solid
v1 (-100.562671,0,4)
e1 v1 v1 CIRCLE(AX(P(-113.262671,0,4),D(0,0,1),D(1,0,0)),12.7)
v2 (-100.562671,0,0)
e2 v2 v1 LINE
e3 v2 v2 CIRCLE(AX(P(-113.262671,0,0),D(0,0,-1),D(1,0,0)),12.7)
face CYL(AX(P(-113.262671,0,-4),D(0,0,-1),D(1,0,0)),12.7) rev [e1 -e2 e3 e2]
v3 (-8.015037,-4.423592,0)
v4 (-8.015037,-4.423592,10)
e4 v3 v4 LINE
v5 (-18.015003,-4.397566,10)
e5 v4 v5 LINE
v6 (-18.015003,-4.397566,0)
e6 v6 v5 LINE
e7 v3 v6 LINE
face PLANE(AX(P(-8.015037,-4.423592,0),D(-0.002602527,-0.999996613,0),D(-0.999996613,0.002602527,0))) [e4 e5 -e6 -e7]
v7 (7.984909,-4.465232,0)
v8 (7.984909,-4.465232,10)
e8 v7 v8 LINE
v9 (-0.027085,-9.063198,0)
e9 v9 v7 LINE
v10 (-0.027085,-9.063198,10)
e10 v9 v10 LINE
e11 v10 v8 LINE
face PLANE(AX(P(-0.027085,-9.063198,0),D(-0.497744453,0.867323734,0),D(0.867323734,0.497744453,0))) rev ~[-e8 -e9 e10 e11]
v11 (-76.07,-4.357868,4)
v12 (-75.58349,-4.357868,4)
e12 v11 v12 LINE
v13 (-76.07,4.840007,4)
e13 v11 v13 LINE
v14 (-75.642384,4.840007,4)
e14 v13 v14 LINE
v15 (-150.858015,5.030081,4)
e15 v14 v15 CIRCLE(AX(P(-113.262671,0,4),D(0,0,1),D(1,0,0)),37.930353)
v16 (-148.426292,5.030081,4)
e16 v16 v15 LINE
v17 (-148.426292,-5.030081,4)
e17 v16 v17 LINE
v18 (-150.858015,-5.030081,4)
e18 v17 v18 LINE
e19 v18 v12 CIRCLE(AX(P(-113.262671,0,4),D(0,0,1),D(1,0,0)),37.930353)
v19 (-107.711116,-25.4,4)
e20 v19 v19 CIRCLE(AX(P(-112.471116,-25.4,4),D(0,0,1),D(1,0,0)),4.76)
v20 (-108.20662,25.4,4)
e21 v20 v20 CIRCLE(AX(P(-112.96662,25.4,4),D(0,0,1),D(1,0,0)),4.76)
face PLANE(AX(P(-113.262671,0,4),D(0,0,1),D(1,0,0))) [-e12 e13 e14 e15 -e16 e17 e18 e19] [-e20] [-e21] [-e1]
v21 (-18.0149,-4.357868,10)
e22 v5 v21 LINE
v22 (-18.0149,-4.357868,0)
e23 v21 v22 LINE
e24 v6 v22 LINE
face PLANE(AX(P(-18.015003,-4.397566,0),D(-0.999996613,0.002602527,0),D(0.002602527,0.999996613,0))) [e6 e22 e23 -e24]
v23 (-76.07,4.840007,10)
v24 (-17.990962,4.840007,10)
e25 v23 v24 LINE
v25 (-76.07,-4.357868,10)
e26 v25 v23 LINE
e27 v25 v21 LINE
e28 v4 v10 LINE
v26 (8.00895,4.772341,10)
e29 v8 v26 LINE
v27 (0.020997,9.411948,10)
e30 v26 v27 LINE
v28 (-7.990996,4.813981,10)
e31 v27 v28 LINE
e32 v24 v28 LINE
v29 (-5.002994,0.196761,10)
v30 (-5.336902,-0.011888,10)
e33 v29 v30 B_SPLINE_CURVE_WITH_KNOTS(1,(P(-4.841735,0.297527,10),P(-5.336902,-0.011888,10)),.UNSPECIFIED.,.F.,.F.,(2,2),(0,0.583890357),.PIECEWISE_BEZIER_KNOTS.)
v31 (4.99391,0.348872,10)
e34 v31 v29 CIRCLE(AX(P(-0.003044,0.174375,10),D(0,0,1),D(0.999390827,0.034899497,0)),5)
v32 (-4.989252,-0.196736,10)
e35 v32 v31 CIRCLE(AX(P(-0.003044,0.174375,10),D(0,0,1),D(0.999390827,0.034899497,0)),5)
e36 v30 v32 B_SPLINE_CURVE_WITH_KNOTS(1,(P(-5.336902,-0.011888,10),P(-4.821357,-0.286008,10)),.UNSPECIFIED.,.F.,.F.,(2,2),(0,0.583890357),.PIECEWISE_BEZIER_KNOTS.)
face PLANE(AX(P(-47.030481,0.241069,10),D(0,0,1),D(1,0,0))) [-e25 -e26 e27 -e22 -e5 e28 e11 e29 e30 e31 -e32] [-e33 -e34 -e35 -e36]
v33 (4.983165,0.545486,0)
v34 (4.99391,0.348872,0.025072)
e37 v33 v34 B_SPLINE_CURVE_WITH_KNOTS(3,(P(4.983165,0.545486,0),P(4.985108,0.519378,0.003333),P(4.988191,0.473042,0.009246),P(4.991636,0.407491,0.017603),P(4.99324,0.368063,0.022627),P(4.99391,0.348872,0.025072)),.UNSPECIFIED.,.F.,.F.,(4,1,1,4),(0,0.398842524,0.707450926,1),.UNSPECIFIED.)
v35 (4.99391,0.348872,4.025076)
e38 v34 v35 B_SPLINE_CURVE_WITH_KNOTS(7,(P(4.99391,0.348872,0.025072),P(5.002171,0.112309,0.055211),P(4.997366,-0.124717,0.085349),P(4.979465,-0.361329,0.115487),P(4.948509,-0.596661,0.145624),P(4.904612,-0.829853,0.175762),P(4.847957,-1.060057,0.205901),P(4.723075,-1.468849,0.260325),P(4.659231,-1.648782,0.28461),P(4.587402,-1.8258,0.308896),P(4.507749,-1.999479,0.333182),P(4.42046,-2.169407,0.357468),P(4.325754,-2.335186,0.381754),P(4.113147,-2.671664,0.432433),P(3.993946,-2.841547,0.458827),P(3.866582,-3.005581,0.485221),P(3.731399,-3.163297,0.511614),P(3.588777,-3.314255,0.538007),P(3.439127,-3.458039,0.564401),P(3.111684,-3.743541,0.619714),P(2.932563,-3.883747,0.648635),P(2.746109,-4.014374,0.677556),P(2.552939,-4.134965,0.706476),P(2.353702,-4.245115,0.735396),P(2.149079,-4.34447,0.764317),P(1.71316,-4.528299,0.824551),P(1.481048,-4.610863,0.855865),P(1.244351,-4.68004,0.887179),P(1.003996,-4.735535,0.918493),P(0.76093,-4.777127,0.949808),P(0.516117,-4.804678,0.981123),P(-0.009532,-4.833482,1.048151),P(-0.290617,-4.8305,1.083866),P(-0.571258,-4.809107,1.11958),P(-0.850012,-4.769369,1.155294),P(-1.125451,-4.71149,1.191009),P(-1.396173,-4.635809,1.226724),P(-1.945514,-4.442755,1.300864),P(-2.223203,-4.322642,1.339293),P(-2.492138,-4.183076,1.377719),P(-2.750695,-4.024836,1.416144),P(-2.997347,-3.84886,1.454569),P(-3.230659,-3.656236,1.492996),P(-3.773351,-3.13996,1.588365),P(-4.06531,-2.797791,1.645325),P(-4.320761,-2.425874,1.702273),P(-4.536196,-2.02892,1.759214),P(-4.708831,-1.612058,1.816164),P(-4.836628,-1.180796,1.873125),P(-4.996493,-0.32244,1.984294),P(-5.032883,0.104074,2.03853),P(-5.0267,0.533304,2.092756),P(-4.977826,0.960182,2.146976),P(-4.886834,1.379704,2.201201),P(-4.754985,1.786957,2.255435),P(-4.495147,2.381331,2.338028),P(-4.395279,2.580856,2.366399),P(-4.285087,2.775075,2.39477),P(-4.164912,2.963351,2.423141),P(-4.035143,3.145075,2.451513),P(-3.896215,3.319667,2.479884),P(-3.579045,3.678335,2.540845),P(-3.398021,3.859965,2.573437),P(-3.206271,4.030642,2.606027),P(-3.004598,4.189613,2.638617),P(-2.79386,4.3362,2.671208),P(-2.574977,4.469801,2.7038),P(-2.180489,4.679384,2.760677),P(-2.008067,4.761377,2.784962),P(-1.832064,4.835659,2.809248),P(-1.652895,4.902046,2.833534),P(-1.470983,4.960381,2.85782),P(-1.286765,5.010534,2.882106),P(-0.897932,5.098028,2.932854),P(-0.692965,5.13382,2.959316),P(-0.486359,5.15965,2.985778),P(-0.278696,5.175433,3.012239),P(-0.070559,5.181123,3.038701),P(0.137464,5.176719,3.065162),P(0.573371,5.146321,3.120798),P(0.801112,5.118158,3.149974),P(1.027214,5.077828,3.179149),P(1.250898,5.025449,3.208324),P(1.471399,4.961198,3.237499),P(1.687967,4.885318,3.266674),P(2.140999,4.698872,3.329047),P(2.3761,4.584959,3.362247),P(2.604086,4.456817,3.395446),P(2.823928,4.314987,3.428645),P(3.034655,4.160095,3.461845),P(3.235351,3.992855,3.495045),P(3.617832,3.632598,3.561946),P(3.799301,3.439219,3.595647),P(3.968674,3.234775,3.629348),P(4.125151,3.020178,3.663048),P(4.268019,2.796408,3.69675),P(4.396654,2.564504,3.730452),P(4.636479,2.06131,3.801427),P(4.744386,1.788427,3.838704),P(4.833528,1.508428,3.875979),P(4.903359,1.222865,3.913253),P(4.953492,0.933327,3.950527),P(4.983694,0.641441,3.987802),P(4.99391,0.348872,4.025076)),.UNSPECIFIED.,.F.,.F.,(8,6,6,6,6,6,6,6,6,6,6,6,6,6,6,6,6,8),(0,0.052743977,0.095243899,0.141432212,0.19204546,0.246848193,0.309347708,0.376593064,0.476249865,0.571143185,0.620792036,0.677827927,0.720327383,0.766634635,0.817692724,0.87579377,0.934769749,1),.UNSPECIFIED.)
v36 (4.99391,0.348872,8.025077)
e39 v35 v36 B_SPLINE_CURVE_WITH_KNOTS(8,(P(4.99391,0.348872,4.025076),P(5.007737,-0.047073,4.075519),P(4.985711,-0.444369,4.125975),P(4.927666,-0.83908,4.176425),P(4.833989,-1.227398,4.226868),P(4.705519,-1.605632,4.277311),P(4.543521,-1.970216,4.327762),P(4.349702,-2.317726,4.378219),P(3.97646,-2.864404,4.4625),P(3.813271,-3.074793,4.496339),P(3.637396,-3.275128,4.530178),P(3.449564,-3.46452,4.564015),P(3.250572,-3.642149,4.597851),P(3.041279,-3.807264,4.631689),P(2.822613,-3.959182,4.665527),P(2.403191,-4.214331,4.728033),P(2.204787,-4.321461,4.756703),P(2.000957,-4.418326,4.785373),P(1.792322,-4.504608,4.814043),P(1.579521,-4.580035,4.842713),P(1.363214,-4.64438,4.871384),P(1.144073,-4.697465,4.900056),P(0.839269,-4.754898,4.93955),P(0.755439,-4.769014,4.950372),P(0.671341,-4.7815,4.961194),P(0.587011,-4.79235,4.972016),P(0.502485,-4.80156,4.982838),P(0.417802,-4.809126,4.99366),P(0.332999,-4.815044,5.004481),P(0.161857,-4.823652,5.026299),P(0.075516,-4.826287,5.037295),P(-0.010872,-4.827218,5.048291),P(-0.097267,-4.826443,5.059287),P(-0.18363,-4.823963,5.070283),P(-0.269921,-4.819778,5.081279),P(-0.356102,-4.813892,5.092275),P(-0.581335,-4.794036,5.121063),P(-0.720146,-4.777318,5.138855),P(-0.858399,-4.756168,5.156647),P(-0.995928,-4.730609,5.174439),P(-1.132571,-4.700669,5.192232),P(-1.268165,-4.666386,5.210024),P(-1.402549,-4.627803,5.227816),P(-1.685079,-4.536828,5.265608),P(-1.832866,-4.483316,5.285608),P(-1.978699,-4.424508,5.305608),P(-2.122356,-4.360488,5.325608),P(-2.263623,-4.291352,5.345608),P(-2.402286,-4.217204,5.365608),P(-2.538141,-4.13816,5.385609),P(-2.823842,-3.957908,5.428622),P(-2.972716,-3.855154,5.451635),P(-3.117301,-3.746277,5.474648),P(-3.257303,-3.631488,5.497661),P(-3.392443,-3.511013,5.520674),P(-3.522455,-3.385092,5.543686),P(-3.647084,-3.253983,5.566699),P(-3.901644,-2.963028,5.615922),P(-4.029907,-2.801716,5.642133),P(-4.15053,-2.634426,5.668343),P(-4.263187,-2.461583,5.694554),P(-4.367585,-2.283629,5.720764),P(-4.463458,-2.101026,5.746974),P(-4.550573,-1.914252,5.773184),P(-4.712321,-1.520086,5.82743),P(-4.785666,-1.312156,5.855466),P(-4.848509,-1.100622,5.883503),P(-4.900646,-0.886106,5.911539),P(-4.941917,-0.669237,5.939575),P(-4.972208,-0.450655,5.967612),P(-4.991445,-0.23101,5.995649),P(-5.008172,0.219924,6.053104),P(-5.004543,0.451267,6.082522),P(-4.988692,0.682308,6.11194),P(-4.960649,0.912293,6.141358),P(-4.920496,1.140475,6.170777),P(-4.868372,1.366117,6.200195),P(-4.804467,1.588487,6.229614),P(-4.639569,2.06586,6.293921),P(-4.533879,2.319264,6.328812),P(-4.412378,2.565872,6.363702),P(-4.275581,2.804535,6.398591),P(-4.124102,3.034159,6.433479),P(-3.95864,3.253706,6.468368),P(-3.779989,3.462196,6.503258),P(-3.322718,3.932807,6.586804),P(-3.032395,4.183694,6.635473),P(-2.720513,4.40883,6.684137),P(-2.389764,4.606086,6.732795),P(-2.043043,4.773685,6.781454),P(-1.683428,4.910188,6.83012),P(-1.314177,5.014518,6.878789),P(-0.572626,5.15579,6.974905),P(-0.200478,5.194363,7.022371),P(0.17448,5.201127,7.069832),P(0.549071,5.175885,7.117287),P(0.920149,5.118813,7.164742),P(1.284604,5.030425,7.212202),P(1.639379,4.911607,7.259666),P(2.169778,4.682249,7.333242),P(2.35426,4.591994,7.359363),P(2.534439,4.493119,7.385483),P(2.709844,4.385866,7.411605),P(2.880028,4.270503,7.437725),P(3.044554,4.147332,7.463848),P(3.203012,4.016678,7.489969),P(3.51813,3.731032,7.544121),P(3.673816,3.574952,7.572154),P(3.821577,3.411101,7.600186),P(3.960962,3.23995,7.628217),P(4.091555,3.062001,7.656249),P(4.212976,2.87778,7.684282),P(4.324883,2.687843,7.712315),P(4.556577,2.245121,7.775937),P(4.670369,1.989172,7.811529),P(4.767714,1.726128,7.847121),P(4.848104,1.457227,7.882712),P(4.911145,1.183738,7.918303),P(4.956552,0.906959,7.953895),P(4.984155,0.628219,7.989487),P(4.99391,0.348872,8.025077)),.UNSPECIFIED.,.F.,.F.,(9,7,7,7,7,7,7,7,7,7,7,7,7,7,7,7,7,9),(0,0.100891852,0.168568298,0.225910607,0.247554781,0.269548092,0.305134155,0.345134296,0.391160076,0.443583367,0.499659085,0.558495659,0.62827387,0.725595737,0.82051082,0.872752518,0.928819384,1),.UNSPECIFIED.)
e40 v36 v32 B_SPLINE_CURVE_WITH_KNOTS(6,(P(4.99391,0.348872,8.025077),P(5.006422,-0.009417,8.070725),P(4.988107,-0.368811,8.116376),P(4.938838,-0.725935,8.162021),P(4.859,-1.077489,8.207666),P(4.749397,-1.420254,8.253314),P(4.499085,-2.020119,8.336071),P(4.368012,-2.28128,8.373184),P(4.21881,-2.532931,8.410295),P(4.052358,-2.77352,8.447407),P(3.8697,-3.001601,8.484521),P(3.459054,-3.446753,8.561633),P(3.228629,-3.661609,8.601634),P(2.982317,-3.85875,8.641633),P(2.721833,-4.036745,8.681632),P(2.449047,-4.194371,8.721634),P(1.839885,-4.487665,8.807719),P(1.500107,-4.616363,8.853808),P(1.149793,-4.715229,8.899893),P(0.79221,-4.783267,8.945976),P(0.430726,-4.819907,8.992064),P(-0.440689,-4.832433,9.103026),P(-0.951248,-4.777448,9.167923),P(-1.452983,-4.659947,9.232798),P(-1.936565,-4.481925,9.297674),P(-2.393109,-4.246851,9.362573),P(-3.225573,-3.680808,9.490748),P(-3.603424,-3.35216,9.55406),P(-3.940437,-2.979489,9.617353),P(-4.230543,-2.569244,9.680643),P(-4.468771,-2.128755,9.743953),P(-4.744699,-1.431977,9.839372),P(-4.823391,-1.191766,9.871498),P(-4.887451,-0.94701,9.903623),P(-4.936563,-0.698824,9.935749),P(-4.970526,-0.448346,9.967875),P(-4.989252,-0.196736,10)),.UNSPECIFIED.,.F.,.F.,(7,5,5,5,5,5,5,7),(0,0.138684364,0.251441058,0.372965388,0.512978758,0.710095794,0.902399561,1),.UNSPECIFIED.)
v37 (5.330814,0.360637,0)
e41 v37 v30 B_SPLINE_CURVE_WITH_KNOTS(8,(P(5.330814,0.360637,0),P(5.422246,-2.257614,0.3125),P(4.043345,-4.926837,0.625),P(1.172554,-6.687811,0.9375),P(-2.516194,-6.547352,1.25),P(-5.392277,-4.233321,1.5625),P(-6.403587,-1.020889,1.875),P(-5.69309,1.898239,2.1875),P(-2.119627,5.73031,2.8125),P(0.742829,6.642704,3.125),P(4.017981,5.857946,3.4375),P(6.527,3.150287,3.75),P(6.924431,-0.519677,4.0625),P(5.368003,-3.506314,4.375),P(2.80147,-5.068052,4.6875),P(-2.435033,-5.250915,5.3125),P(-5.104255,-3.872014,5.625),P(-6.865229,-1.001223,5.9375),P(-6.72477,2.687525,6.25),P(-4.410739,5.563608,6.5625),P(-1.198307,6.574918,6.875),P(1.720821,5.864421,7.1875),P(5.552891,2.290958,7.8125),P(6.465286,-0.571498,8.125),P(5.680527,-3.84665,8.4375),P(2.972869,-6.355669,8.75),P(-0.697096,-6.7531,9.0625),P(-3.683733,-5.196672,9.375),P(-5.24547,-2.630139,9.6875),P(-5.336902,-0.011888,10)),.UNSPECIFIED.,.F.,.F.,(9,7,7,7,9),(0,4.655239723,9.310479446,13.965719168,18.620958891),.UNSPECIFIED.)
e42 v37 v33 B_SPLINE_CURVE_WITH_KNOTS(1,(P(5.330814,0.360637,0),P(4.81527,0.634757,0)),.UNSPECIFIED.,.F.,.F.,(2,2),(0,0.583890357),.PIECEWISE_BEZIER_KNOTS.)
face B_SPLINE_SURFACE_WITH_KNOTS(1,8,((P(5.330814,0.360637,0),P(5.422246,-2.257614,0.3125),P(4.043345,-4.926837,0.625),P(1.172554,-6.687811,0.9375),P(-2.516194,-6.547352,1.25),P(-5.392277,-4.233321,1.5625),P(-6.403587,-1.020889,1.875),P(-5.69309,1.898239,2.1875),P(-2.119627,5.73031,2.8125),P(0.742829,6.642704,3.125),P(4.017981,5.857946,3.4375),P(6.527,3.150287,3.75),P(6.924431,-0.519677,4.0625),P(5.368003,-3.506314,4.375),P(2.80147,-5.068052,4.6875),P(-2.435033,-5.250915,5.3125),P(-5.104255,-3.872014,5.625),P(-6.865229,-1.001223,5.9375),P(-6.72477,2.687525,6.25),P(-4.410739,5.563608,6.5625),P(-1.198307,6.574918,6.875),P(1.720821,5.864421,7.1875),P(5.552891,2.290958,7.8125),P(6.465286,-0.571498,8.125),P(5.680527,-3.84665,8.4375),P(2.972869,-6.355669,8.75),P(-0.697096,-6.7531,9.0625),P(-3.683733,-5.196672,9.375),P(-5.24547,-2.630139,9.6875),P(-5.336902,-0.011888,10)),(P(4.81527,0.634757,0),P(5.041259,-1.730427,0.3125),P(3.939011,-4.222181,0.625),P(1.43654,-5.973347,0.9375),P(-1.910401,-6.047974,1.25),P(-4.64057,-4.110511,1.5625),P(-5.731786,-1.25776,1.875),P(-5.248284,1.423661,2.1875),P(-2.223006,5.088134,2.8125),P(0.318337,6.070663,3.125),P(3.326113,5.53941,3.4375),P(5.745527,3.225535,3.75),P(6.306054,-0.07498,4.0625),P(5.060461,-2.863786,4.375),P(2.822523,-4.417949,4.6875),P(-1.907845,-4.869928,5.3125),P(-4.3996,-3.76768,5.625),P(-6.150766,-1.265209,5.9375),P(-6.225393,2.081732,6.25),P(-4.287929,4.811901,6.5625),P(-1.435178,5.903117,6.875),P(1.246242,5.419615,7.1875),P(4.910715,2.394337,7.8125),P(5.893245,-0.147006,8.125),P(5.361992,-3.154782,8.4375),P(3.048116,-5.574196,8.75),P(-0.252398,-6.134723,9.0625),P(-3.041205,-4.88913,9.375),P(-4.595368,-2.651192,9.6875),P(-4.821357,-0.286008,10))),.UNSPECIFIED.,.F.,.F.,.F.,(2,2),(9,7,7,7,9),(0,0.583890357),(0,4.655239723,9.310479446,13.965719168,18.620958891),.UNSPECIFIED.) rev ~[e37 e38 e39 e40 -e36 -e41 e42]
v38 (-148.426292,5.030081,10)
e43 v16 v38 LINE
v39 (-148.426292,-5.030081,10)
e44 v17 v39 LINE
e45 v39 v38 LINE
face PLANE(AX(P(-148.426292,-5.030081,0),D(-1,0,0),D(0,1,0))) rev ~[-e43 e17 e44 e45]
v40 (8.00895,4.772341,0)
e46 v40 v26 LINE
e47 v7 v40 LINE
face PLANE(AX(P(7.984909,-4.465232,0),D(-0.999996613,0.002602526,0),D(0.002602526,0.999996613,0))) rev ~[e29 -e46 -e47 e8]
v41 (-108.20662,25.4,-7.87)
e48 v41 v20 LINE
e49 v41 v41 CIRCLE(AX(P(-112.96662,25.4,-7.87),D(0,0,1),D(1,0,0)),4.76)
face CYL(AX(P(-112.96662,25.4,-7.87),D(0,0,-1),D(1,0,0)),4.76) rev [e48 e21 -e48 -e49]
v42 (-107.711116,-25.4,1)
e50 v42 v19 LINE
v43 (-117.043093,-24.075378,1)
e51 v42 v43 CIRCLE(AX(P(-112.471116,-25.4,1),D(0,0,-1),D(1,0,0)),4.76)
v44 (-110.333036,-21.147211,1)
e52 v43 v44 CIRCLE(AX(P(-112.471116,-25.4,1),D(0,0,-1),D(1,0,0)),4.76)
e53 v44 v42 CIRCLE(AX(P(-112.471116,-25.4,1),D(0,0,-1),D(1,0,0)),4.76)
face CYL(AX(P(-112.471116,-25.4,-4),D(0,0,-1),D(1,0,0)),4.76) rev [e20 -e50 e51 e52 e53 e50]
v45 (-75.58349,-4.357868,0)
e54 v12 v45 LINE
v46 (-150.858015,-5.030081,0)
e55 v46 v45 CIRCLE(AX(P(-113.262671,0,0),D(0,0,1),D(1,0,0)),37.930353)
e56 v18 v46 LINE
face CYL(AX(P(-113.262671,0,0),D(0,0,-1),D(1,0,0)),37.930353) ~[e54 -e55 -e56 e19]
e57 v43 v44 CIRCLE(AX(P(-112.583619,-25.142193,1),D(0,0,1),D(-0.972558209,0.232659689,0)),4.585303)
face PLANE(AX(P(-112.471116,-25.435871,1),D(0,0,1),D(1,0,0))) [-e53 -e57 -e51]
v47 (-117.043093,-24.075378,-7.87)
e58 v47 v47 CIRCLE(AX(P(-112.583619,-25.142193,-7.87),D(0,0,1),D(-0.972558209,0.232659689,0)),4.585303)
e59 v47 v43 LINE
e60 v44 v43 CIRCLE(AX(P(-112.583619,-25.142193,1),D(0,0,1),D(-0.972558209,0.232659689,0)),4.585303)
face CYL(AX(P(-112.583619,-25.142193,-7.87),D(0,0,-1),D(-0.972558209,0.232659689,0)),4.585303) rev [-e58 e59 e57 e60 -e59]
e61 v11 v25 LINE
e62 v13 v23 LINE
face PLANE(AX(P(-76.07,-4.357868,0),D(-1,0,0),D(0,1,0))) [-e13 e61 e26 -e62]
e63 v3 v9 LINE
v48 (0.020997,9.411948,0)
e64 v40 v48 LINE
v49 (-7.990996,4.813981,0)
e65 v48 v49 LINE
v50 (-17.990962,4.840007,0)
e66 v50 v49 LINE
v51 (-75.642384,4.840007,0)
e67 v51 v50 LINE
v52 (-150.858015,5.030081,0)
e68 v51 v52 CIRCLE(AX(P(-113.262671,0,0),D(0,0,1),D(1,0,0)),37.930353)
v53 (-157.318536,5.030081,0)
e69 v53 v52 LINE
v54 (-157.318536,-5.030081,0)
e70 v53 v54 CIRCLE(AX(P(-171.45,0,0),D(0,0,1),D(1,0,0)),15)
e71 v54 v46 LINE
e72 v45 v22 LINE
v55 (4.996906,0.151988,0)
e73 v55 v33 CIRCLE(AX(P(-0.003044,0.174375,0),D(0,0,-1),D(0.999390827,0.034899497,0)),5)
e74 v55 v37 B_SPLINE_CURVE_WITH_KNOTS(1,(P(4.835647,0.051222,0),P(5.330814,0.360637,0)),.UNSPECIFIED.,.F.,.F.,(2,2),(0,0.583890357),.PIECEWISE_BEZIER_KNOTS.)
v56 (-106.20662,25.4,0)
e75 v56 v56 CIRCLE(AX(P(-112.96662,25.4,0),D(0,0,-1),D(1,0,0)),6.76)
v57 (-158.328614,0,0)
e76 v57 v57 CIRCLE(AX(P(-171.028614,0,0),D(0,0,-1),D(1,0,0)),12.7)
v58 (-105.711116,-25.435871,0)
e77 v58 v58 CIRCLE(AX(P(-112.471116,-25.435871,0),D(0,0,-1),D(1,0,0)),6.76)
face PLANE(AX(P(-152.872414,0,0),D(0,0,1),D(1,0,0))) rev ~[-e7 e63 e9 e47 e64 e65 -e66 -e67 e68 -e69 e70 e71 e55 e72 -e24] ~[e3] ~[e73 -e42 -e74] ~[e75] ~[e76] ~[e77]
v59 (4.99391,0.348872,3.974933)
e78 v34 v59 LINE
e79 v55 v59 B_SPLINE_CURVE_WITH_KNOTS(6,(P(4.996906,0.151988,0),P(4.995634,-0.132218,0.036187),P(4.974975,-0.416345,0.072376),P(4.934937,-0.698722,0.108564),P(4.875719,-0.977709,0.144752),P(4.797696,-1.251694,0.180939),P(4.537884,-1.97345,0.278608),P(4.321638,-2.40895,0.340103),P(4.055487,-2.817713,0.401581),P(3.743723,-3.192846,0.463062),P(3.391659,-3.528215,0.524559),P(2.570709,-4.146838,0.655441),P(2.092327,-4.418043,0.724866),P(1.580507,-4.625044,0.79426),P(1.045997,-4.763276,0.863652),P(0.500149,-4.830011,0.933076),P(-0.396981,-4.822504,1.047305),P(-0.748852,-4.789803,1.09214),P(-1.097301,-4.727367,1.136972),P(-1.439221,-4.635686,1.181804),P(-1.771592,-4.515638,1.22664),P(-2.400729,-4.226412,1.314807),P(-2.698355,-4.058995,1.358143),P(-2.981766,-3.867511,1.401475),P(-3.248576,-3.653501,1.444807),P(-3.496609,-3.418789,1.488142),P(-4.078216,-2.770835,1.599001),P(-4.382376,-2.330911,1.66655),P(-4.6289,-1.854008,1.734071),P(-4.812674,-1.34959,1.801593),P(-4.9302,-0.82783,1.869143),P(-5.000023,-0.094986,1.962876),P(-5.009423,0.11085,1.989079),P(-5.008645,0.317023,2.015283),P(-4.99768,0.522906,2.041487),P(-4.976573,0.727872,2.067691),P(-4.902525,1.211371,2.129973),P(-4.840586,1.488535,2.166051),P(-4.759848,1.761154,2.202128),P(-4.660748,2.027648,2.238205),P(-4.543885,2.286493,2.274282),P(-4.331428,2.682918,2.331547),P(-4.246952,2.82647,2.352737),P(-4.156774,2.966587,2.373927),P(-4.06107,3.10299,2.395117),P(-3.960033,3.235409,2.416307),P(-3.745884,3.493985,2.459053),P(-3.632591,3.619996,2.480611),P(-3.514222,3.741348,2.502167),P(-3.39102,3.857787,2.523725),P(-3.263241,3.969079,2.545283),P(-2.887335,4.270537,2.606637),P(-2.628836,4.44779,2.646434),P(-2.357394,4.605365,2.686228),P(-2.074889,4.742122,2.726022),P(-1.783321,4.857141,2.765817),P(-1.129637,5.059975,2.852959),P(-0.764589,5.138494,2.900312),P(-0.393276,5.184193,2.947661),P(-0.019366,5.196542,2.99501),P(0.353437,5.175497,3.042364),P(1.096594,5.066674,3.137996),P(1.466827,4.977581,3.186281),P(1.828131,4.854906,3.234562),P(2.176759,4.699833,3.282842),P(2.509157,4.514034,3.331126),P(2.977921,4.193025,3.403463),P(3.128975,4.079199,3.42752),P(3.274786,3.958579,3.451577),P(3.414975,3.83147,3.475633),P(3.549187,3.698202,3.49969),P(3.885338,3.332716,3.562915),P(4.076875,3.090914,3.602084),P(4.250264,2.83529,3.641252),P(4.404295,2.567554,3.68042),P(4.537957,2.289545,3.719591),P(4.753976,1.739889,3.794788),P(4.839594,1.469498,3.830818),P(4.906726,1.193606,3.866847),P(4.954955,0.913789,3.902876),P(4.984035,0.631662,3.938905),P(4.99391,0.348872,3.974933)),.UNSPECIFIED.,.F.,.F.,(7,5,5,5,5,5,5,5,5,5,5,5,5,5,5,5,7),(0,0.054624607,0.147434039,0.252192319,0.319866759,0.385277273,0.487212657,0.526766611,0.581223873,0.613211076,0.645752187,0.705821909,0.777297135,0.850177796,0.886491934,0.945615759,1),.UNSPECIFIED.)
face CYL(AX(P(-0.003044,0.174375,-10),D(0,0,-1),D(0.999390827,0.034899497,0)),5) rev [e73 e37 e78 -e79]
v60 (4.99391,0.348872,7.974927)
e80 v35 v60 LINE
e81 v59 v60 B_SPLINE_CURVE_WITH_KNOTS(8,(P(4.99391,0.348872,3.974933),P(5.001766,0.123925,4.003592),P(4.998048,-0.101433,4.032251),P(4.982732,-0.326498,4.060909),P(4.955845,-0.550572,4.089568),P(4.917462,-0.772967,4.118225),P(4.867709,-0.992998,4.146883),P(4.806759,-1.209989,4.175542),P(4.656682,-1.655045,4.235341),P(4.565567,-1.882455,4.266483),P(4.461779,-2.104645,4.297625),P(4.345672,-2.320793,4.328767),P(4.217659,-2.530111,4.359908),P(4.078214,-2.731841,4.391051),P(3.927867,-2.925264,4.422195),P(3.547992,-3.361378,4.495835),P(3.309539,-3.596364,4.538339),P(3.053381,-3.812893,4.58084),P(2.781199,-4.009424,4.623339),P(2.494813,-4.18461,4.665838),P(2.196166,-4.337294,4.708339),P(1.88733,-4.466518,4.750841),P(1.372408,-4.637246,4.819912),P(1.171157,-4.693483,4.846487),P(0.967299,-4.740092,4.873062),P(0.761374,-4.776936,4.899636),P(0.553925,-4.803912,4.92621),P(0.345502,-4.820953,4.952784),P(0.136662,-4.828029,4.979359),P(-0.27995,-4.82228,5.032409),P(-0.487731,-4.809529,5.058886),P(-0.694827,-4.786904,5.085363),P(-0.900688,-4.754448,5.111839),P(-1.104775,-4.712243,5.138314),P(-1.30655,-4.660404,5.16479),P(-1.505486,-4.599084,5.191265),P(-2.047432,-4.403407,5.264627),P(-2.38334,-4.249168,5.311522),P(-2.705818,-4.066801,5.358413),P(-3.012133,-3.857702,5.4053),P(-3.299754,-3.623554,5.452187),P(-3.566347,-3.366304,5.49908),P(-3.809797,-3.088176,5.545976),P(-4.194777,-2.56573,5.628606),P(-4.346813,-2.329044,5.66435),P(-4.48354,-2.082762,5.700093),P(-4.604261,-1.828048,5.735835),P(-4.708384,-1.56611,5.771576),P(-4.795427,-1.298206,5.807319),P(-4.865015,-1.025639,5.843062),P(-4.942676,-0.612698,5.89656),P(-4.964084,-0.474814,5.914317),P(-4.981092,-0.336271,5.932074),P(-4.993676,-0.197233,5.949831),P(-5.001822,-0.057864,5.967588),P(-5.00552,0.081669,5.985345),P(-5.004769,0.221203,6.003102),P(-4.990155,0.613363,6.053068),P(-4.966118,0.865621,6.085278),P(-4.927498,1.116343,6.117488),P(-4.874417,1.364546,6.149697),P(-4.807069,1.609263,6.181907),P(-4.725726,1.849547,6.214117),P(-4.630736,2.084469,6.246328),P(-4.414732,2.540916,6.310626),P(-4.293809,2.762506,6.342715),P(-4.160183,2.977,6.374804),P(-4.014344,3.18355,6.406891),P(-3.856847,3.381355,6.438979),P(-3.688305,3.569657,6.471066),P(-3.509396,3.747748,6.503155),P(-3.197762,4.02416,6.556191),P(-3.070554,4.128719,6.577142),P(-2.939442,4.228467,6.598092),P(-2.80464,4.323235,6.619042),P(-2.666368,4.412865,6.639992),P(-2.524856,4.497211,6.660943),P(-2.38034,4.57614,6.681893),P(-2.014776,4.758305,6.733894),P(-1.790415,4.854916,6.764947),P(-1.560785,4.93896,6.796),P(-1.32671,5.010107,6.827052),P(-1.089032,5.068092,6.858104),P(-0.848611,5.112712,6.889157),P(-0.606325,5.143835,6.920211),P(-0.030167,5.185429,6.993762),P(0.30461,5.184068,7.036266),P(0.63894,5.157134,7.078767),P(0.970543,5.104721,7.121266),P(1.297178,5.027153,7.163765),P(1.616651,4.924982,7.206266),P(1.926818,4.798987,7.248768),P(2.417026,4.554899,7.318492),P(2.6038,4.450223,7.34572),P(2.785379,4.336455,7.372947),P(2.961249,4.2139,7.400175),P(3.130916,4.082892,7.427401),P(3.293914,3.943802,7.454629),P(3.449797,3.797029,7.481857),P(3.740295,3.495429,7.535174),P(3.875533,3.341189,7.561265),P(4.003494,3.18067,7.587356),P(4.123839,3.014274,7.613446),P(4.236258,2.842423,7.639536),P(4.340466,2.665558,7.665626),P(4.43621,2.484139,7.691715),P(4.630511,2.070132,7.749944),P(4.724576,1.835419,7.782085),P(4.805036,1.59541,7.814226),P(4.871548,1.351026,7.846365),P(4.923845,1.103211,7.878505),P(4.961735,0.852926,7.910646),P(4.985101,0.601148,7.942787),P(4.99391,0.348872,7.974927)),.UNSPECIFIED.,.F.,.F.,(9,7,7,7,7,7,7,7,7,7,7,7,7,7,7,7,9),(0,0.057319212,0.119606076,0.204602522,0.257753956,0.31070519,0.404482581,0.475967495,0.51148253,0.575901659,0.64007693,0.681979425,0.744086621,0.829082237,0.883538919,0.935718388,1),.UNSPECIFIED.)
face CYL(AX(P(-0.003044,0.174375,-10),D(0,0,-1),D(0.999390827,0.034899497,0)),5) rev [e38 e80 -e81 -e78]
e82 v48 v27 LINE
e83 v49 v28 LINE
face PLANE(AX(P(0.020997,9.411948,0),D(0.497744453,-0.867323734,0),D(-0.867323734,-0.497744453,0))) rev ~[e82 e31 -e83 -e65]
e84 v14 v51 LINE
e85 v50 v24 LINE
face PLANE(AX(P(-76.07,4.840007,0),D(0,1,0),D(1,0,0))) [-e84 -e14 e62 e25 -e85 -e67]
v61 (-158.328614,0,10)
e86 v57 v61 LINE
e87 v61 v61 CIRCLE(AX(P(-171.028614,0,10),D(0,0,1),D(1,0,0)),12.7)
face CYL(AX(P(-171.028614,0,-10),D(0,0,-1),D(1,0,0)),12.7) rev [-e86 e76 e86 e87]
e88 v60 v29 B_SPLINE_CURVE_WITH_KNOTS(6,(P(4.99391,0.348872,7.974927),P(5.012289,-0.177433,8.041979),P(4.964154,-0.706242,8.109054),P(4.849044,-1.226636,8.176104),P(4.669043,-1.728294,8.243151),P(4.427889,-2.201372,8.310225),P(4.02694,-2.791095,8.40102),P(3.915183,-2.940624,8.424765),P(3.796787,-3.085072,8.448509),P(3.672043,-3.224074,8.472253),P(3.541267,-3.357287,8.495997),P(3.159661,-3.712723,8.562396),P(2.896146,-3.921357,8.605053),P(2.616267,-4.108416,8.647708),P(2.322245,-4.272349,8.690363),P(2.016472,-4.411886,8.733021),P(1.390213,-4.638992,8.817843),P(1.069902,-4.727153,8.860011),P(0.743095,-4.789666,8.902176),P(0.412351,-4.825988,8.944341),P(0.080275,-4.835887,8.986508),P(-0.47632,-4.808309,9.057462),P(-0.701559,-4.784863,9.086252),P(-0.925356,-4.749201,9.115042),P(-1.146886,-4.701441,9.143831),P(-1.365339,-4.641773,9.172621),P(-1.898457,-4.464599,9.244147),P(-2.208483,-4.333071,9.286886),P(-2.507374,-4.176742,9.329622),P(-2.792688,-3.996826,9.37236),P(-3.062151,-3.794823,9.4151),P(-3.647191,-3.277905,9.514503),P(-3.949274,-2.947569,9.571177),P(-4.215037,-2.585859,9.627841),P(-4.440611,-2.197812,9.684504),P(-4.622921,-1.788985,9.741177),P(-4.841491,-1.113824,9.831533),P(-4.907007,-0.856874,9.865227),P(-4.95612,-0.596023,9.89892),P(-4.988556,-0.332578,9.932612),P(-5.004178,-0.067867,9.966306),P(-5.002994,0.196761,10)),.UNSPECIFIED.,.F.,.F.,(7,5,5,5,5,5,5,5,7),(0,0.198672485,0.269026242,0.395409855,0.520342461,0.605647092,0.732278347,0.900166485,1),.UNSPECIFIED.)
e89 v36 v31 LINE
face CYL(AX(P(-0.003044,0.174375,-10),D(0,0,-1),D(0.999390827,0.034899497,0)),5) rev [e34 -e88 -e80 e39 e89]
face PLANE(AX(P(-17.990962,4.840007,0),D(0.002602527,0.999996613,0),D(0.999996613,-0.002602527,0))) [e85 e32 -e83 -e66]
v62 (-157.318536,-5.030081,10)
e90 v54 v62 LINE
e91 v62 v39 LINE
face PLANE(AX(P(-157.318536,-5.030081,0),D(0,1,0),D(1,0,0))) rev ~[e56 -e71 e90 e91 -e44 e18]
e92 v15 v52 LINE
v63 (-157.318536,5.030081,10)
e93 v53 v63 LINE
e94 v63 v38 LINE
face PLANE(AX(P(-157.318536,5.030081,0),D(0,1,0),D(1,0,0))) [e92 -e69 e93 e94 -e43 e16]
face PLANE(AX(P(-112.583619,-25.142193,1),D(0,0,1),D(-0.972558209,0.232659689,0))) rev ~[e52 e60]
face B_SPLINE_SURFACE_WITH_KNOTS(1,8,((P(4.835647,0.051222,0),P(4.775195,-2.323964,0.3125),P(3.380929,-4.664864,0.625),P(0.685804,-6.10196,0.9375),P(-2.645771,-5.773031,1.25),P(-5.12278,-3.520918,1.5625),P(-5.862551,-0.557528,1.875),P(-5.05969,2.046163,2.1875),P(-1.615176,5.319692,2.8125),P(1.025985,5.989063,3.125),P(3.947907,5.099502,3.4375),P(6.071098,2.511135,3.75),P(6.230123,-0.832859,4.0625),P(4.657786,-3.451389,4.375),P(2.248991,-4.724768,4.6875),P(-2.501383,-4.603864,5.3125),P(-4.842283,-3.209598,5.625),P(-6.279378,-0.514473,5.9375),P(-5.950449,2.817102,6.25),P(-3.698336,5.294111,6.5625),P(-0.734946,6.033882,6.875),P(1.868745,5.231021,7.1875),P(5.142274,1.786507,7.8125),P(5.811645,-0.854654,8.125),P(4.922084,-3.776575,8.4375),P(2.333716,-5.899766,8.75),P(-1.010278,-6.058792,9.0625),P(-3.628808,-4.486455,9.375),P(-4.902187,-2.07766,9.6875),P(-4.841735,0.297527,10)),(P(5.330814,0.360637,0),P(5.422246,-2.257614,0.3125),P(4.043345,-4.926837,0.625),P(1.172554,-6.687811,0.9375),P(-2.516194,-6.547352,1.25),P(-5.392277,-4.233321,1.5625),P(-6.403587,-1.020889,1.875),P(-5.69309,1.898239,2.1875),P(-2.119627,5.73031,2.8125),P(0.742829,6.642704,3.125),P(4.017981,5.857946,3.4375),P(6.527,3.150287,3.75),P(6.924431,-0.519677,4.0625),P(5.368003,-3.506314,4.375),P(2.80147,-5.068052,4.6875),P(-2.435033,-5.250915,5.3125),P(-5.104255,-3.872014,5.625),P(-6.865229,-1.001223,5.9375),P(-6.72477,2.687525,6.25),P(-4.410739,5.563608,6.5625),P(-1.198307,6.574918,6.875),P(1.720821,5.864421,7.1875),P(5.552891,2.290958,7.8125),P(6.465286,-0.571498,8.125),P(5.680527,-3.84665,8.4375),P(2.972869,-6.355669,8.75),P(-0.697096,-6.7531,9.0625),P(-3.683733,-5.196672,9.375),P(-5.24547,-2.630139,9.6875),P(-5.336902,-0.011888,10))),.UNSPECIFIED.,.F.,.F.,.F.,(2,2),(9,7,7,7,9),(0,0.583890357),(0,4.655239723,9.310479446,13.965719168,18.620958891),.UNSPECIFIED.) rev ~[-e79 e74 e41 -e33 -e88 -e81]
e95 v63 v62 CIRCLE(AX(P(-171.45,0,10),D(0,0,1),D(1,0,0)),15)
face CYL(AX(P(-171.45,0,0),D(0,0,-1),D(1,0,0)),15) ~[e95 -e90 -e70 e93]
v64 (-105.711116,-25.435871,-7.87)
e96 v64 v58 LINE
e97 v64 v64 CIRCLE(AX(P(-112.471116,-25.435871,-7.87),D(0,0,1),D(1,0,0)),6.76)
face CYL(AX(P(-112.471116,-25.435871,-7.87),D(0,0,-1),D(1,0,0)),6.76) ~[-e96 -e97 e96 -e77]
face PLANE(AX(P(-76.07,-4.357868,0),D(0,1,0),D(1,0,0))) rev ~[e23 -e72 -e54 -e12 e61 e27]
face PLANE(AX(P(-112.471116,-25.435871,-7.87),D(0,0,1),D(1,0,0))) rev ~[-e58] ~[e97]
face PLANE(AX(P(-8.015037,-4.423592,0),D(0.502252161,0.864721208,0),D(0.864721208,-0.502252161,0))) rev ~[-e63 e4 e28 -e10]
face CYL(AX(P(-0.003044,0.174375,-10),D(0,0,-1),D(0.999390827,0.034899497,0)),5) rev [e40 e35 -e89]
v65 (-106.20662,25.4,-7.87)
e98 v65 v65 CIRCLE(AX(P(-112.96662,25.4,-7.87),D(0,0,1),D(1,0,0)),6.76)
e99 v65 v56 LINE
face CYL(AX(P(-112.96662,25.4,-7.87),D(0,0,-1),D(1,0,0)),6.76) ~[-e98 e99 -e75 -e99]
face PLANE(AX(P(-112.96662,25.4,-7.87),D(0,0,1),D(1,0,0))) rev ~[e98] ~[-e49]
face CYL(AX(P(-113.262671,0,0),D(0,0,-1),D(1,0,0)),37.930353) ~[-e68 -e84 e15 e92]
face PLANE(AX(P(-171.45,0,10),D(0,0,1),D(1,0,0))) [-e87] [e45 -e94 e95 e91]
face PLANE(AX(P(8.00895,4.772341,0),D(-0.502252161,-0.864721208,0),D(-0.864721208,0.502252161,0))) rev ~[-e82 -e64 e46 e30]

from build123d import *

# Parameters (mm, degrees)
BOSS_EXTRUDE1_DEPTH       = 10
CUT_EXTRUDE1_DEPTH        = 10
CUT_EXTRUDE1_DEPTH_BACK   = 10
SKETCH2_R                 = 5
CUT_SWEEP1_PITCH          = 4
CUT_SWEEP1_HEIGHT         = 10
CUT_SWEEP1_RADIUS         = 5
EXTRUDE_THIN2_DEPTH       = 10
BODY_MOVE_COPY1_ANGLE     = 2
SKETCH10_W                = 58.079037791
SKETCH10_H                = 9.197874715
BOSS_EXTRUDE2_DEPTH       = 10
SKETCH21_R                = 37.93035277
BOSS_EXTRUDE11_DEPTH      = 4
CUT_EXTRUDE5_DEPTH        = 4
CUT_EXTRUDE5_DEPTH_BACK   = 4
SKETCH22_R                = 12.7
CUT_EXTRUDE6_DEPTH        = 4
CUT_EXTRUDE6_DEPTH_BACK   = 4
SKETCH23_R                = 4.76
CUT_EXTRUDE7_DEPTH        = 4
CUT_EXTRUDE7_DEPTH_BACK   = 4
SKETCH24_R                = 4.76
BOSS_EXTRUDE13_DEPTH      = 1
BOSS_EXTRUDE13_DEPTH_BACK = 7.87
SKETCH27_R                = 6.76
CUT_EXTRUDE12_DEPTH       = 1
CUT_EXTRUDE12_DEPTH_BACK  = 7.87
SKETCH28_R                = 4.76
BOSS_EXTRUDE14_DEPTH      = 1
BOSS_EXTRUDE14_DEPTH_BACK = 7.87
SKETCH29_R                = 6.76
CUT_EXTRUDE13_DEPTH       = 1
CUT_EXTRUDE13_DEPTH_BACK  = 7.87
SKETCH30_R                = 4.585303289
SKETCH20_W                = 8.892243229
SKETCH20_H                = 10.060161684
BOSS_EXTRUDE15_DEPTH      = 10
SKETCH19_R                = 15
BOSS_EXTRUDE16_DEPTH      = 10
CUT_EXTRUDE14_DEPTH       = 10
CUT_EXTRUDE14_DEPTH_BACK  = 10
SKETCH31_R                = 12.7


with BuildPart() as part:
    # Sketch1 → Boss-Extrude1 (new body)
    with BuildSketch(Plane.XY):
        Polygon((-8.167579482, -4.315550803), (-0.346413115, -9.231106721), (7.821166368, -4.915555918), (8.167579482, 4.315550803), (0.346413115, 9.231106721), (-7.821166368, 4.915555918), align=None)
    extrude(amount=BOSS_EXTRUDE1_DEPTH)

    # Sketch2 → Cut-Extrude1 (cut, two sides: drawn at the far end of the back side and taken through both)
    with BuildSketch(Plane.XY.offset(-CUT_EXTRUDE1_DEPTH_BACK)):
        Circle(SKETCH2_R)
    extrude(amount=CUT_EXTRUDE1_DEPTH + CUT_EXTRUDE1_DEPTH_BACK, mode=Mode.SUBTRACT)

    # Cut-Sweep1: sweep along a helix
    with BuildLine() as cut_sweep1_path:
        Helix(CUT_SWEEP1_PITCH, CUT_SWEEP1_HEIGHT, CUT_SWEEP1_RADIUS, center=(0, 0, 0), direction=(0, 0, 1), lefthand=True)
    # Sketch4 → Cut-Sweep1 (sweep, cut)
    with BuildSketch(Plane.XY):
        Polygon((5.337109255, 0), (4.831445373, 0.291945178), (4.831445373, -0.291945178), align=None)
    sweep(path=cut_sweep1_path.line, is_frenet=True, mode=Mode.SUBTRACT)

    # Sketch6 → Extrude-Thin2 (add)
    with BuildSketch(Plane.XY):
        Polygon((-7.821166368, 4.915555918), (-8.167579482, -4.315550803), (-18.160545639, -3.940547606), (-17.814132524, 5.290559115), align=None)
    extrude(amount=EXTRUDE_THIN2_DEPTH)


with BuildPart() as part_1:
    # Body-Move/Copy1: moved
    add(part.part.rotate(Axis((-4.996483078, 0, 0), (0, 0, 1)), BODY_MOVE_COPY1_ANGLE))

    # Sketch10 → Boss-Extrude2 (add)
    with BuildSketch(Plane.XY):
        with Locations((-47.030481105, 0.241069377)):
            Rectangle(SKETCH10_W, SKETCH10_H)
    extrude(amount=BOSS_EXTRUDE2_DEPTH)

    # Sketch21 → Boss-Extrude11 (add)
    with BuildSketch(Plane.XY):
        with Locations((-113.262670717, 0)):
            Circle(SKETCH21_R)
    extrude(amount=BOSS_EXTRUDE11_DEPTH)

    # Sketch22 → Cut-Extrude5 (cut, two sides: drawn at the far end of the back side and taken through both)
    with BuildSketch(Plane.XY.offset(-CUT_EXTRUDE5_DEPTH_BACK)):
        with Locations((-113.262670717, 0)):
            Circle(SKETCH22_R)
    extrude(amount=CUT_EXTRUDE5_DEPTH + CUT_EXTRUDE5_DEPTH_BACK, mode=Mode.SUBTRACT)

    # Sketch23 → Cut-Extrude6 (cut, two sides: drawn at the far end of the back side and taken through both)
    with BuildSketch(Plane.XY.offset(-CUT_EXTRUDE6_DEPTH_BACK)):
        with Locations((-112.966619713, 25.4)):
            Circle(SKETCH23_R)
    extrude(amount=CUT_EXTRUDE6_DEPTH + CUT_EXTRUDE6_DEPTH_BACK, mode=Mode.SUBTRACT)

    # Sketch24 → Cut-Extrude7 (cut, two sides: drawn at the far end of the back side and taken through both)
    with BuildSketch(Plane.XY.offset(-CUT_EXTRUDE7_DEPTH_BACK)):
        with Locations((-112.471115727, -25.4)):
            Circle(SKETCH24_R)
    extrude(amount=CUT_EXTRUDE7_DEPTH + CUT_EXTRUDE7_DEPTH_BACK, mode=Mode.SUBTRACT)

    # Sketch27 → Boss-Extrude13 (add, two sides: drawn at the far end of the back side and taken through both)
    with BuildSketch(Plane.XY.offset(-BOSS_EXTRUDE13_DEPTH_BACK)):
        with Locations((-112.966619713, 25.4)):
            Circle(SKETCH27_R)
    extrude(amount=BOSS_EXTRUDE13_DEPTH + BOSS_EXTRUDE13_DEPTH_BACK)

    # Sketch28 → Cut-Extrude12 (cut, two sides: drawn at the far end of the back side and taken through both)
    with BuildSketch(Plane.XY.offset(-CUT_EXTRUDE12_DEPTH_BACK)):
        with Locations((-112.966619713, 25.4)):
            Circle(SKETCH28_R)
    extrude(amount=CUT_EXTRUDE12_DEPTH + CUT_EXTRUDE12_DEPTH_BACK, mode=Mode.SUBTRACT)

    # Sketch29 → Boss-Extrude14 (add, two sides: drawn at the far end of the back side and taken through both)
    with BuildSketch(Plane(origin=(-24.725624919, 0.221889436, 0), x_dir=(1, 0, 0), z_dir=(0, 0, 1)).offset(-BOSS_EXTRUDE14_DEPTH_BACK)):
        with Locations((-87.745490808, -25.657760722)):
            Circle(SKETCH29_R)
    extrude(amount=BOSS_EXTRUDE14_DEPTH + BOSS_EXTRUDE14_DEPTH_BACK)

    # Sketch30 → Cut-Extrude13 (cut, two sides: drawn at the far end of the back side and taken through both)
    with BuildSketch(Plane.XY.offset(-CUT_EXTRUDE13_DEPTH_BACK)):
        with Locations(Location((-112.583618689, -25.142193243, 0), (0, 0, 166.546290498))):
            Circle(SKETCH30_R)
    extrude(amount=CUT_EXTRUDE13_DEPTH + CUT_EXTRUDE13_DEPTH_BACK, mode=Mode.SUBTRACT)

    # Sketch20 → Boss-Extrude15 (add)
    with BuildSketch(Plane.XY):
        with Locations((-152.872413964, 0)):
            Rectangle(SKETCH20_W, SKETCH20_H)
    extrude(amount=BOSS_EXTRUDE15_DEPTH)

    # Sketch19 → Boss-Extrude16 (add)
    with BuildSketch(Plane.XY):
        with Locations((-171.45, 0)):
            Circle(SKETCH19_R)
    extrude(amount=BOSS_EXTRUDE16_DEPTH)

    # Sketch31 → Cut-Extrude14 (cut, two sides: drawn at the far end of the back side and taken through both)
    with BuildSketch(Plane.XY.offset(-CUT_EXTRUDE14_DEPTH_BACK)):
        with Locations((-171.028613762, 0)):
            Circle(SKETCH31_R)
    extrude(amount=CUT_EXTRUDE14_DEPTH + CUT_EXTRUDE14_DEPTH_BACK, mode=Mode.SUBTRACT)


solid = part_1.part
